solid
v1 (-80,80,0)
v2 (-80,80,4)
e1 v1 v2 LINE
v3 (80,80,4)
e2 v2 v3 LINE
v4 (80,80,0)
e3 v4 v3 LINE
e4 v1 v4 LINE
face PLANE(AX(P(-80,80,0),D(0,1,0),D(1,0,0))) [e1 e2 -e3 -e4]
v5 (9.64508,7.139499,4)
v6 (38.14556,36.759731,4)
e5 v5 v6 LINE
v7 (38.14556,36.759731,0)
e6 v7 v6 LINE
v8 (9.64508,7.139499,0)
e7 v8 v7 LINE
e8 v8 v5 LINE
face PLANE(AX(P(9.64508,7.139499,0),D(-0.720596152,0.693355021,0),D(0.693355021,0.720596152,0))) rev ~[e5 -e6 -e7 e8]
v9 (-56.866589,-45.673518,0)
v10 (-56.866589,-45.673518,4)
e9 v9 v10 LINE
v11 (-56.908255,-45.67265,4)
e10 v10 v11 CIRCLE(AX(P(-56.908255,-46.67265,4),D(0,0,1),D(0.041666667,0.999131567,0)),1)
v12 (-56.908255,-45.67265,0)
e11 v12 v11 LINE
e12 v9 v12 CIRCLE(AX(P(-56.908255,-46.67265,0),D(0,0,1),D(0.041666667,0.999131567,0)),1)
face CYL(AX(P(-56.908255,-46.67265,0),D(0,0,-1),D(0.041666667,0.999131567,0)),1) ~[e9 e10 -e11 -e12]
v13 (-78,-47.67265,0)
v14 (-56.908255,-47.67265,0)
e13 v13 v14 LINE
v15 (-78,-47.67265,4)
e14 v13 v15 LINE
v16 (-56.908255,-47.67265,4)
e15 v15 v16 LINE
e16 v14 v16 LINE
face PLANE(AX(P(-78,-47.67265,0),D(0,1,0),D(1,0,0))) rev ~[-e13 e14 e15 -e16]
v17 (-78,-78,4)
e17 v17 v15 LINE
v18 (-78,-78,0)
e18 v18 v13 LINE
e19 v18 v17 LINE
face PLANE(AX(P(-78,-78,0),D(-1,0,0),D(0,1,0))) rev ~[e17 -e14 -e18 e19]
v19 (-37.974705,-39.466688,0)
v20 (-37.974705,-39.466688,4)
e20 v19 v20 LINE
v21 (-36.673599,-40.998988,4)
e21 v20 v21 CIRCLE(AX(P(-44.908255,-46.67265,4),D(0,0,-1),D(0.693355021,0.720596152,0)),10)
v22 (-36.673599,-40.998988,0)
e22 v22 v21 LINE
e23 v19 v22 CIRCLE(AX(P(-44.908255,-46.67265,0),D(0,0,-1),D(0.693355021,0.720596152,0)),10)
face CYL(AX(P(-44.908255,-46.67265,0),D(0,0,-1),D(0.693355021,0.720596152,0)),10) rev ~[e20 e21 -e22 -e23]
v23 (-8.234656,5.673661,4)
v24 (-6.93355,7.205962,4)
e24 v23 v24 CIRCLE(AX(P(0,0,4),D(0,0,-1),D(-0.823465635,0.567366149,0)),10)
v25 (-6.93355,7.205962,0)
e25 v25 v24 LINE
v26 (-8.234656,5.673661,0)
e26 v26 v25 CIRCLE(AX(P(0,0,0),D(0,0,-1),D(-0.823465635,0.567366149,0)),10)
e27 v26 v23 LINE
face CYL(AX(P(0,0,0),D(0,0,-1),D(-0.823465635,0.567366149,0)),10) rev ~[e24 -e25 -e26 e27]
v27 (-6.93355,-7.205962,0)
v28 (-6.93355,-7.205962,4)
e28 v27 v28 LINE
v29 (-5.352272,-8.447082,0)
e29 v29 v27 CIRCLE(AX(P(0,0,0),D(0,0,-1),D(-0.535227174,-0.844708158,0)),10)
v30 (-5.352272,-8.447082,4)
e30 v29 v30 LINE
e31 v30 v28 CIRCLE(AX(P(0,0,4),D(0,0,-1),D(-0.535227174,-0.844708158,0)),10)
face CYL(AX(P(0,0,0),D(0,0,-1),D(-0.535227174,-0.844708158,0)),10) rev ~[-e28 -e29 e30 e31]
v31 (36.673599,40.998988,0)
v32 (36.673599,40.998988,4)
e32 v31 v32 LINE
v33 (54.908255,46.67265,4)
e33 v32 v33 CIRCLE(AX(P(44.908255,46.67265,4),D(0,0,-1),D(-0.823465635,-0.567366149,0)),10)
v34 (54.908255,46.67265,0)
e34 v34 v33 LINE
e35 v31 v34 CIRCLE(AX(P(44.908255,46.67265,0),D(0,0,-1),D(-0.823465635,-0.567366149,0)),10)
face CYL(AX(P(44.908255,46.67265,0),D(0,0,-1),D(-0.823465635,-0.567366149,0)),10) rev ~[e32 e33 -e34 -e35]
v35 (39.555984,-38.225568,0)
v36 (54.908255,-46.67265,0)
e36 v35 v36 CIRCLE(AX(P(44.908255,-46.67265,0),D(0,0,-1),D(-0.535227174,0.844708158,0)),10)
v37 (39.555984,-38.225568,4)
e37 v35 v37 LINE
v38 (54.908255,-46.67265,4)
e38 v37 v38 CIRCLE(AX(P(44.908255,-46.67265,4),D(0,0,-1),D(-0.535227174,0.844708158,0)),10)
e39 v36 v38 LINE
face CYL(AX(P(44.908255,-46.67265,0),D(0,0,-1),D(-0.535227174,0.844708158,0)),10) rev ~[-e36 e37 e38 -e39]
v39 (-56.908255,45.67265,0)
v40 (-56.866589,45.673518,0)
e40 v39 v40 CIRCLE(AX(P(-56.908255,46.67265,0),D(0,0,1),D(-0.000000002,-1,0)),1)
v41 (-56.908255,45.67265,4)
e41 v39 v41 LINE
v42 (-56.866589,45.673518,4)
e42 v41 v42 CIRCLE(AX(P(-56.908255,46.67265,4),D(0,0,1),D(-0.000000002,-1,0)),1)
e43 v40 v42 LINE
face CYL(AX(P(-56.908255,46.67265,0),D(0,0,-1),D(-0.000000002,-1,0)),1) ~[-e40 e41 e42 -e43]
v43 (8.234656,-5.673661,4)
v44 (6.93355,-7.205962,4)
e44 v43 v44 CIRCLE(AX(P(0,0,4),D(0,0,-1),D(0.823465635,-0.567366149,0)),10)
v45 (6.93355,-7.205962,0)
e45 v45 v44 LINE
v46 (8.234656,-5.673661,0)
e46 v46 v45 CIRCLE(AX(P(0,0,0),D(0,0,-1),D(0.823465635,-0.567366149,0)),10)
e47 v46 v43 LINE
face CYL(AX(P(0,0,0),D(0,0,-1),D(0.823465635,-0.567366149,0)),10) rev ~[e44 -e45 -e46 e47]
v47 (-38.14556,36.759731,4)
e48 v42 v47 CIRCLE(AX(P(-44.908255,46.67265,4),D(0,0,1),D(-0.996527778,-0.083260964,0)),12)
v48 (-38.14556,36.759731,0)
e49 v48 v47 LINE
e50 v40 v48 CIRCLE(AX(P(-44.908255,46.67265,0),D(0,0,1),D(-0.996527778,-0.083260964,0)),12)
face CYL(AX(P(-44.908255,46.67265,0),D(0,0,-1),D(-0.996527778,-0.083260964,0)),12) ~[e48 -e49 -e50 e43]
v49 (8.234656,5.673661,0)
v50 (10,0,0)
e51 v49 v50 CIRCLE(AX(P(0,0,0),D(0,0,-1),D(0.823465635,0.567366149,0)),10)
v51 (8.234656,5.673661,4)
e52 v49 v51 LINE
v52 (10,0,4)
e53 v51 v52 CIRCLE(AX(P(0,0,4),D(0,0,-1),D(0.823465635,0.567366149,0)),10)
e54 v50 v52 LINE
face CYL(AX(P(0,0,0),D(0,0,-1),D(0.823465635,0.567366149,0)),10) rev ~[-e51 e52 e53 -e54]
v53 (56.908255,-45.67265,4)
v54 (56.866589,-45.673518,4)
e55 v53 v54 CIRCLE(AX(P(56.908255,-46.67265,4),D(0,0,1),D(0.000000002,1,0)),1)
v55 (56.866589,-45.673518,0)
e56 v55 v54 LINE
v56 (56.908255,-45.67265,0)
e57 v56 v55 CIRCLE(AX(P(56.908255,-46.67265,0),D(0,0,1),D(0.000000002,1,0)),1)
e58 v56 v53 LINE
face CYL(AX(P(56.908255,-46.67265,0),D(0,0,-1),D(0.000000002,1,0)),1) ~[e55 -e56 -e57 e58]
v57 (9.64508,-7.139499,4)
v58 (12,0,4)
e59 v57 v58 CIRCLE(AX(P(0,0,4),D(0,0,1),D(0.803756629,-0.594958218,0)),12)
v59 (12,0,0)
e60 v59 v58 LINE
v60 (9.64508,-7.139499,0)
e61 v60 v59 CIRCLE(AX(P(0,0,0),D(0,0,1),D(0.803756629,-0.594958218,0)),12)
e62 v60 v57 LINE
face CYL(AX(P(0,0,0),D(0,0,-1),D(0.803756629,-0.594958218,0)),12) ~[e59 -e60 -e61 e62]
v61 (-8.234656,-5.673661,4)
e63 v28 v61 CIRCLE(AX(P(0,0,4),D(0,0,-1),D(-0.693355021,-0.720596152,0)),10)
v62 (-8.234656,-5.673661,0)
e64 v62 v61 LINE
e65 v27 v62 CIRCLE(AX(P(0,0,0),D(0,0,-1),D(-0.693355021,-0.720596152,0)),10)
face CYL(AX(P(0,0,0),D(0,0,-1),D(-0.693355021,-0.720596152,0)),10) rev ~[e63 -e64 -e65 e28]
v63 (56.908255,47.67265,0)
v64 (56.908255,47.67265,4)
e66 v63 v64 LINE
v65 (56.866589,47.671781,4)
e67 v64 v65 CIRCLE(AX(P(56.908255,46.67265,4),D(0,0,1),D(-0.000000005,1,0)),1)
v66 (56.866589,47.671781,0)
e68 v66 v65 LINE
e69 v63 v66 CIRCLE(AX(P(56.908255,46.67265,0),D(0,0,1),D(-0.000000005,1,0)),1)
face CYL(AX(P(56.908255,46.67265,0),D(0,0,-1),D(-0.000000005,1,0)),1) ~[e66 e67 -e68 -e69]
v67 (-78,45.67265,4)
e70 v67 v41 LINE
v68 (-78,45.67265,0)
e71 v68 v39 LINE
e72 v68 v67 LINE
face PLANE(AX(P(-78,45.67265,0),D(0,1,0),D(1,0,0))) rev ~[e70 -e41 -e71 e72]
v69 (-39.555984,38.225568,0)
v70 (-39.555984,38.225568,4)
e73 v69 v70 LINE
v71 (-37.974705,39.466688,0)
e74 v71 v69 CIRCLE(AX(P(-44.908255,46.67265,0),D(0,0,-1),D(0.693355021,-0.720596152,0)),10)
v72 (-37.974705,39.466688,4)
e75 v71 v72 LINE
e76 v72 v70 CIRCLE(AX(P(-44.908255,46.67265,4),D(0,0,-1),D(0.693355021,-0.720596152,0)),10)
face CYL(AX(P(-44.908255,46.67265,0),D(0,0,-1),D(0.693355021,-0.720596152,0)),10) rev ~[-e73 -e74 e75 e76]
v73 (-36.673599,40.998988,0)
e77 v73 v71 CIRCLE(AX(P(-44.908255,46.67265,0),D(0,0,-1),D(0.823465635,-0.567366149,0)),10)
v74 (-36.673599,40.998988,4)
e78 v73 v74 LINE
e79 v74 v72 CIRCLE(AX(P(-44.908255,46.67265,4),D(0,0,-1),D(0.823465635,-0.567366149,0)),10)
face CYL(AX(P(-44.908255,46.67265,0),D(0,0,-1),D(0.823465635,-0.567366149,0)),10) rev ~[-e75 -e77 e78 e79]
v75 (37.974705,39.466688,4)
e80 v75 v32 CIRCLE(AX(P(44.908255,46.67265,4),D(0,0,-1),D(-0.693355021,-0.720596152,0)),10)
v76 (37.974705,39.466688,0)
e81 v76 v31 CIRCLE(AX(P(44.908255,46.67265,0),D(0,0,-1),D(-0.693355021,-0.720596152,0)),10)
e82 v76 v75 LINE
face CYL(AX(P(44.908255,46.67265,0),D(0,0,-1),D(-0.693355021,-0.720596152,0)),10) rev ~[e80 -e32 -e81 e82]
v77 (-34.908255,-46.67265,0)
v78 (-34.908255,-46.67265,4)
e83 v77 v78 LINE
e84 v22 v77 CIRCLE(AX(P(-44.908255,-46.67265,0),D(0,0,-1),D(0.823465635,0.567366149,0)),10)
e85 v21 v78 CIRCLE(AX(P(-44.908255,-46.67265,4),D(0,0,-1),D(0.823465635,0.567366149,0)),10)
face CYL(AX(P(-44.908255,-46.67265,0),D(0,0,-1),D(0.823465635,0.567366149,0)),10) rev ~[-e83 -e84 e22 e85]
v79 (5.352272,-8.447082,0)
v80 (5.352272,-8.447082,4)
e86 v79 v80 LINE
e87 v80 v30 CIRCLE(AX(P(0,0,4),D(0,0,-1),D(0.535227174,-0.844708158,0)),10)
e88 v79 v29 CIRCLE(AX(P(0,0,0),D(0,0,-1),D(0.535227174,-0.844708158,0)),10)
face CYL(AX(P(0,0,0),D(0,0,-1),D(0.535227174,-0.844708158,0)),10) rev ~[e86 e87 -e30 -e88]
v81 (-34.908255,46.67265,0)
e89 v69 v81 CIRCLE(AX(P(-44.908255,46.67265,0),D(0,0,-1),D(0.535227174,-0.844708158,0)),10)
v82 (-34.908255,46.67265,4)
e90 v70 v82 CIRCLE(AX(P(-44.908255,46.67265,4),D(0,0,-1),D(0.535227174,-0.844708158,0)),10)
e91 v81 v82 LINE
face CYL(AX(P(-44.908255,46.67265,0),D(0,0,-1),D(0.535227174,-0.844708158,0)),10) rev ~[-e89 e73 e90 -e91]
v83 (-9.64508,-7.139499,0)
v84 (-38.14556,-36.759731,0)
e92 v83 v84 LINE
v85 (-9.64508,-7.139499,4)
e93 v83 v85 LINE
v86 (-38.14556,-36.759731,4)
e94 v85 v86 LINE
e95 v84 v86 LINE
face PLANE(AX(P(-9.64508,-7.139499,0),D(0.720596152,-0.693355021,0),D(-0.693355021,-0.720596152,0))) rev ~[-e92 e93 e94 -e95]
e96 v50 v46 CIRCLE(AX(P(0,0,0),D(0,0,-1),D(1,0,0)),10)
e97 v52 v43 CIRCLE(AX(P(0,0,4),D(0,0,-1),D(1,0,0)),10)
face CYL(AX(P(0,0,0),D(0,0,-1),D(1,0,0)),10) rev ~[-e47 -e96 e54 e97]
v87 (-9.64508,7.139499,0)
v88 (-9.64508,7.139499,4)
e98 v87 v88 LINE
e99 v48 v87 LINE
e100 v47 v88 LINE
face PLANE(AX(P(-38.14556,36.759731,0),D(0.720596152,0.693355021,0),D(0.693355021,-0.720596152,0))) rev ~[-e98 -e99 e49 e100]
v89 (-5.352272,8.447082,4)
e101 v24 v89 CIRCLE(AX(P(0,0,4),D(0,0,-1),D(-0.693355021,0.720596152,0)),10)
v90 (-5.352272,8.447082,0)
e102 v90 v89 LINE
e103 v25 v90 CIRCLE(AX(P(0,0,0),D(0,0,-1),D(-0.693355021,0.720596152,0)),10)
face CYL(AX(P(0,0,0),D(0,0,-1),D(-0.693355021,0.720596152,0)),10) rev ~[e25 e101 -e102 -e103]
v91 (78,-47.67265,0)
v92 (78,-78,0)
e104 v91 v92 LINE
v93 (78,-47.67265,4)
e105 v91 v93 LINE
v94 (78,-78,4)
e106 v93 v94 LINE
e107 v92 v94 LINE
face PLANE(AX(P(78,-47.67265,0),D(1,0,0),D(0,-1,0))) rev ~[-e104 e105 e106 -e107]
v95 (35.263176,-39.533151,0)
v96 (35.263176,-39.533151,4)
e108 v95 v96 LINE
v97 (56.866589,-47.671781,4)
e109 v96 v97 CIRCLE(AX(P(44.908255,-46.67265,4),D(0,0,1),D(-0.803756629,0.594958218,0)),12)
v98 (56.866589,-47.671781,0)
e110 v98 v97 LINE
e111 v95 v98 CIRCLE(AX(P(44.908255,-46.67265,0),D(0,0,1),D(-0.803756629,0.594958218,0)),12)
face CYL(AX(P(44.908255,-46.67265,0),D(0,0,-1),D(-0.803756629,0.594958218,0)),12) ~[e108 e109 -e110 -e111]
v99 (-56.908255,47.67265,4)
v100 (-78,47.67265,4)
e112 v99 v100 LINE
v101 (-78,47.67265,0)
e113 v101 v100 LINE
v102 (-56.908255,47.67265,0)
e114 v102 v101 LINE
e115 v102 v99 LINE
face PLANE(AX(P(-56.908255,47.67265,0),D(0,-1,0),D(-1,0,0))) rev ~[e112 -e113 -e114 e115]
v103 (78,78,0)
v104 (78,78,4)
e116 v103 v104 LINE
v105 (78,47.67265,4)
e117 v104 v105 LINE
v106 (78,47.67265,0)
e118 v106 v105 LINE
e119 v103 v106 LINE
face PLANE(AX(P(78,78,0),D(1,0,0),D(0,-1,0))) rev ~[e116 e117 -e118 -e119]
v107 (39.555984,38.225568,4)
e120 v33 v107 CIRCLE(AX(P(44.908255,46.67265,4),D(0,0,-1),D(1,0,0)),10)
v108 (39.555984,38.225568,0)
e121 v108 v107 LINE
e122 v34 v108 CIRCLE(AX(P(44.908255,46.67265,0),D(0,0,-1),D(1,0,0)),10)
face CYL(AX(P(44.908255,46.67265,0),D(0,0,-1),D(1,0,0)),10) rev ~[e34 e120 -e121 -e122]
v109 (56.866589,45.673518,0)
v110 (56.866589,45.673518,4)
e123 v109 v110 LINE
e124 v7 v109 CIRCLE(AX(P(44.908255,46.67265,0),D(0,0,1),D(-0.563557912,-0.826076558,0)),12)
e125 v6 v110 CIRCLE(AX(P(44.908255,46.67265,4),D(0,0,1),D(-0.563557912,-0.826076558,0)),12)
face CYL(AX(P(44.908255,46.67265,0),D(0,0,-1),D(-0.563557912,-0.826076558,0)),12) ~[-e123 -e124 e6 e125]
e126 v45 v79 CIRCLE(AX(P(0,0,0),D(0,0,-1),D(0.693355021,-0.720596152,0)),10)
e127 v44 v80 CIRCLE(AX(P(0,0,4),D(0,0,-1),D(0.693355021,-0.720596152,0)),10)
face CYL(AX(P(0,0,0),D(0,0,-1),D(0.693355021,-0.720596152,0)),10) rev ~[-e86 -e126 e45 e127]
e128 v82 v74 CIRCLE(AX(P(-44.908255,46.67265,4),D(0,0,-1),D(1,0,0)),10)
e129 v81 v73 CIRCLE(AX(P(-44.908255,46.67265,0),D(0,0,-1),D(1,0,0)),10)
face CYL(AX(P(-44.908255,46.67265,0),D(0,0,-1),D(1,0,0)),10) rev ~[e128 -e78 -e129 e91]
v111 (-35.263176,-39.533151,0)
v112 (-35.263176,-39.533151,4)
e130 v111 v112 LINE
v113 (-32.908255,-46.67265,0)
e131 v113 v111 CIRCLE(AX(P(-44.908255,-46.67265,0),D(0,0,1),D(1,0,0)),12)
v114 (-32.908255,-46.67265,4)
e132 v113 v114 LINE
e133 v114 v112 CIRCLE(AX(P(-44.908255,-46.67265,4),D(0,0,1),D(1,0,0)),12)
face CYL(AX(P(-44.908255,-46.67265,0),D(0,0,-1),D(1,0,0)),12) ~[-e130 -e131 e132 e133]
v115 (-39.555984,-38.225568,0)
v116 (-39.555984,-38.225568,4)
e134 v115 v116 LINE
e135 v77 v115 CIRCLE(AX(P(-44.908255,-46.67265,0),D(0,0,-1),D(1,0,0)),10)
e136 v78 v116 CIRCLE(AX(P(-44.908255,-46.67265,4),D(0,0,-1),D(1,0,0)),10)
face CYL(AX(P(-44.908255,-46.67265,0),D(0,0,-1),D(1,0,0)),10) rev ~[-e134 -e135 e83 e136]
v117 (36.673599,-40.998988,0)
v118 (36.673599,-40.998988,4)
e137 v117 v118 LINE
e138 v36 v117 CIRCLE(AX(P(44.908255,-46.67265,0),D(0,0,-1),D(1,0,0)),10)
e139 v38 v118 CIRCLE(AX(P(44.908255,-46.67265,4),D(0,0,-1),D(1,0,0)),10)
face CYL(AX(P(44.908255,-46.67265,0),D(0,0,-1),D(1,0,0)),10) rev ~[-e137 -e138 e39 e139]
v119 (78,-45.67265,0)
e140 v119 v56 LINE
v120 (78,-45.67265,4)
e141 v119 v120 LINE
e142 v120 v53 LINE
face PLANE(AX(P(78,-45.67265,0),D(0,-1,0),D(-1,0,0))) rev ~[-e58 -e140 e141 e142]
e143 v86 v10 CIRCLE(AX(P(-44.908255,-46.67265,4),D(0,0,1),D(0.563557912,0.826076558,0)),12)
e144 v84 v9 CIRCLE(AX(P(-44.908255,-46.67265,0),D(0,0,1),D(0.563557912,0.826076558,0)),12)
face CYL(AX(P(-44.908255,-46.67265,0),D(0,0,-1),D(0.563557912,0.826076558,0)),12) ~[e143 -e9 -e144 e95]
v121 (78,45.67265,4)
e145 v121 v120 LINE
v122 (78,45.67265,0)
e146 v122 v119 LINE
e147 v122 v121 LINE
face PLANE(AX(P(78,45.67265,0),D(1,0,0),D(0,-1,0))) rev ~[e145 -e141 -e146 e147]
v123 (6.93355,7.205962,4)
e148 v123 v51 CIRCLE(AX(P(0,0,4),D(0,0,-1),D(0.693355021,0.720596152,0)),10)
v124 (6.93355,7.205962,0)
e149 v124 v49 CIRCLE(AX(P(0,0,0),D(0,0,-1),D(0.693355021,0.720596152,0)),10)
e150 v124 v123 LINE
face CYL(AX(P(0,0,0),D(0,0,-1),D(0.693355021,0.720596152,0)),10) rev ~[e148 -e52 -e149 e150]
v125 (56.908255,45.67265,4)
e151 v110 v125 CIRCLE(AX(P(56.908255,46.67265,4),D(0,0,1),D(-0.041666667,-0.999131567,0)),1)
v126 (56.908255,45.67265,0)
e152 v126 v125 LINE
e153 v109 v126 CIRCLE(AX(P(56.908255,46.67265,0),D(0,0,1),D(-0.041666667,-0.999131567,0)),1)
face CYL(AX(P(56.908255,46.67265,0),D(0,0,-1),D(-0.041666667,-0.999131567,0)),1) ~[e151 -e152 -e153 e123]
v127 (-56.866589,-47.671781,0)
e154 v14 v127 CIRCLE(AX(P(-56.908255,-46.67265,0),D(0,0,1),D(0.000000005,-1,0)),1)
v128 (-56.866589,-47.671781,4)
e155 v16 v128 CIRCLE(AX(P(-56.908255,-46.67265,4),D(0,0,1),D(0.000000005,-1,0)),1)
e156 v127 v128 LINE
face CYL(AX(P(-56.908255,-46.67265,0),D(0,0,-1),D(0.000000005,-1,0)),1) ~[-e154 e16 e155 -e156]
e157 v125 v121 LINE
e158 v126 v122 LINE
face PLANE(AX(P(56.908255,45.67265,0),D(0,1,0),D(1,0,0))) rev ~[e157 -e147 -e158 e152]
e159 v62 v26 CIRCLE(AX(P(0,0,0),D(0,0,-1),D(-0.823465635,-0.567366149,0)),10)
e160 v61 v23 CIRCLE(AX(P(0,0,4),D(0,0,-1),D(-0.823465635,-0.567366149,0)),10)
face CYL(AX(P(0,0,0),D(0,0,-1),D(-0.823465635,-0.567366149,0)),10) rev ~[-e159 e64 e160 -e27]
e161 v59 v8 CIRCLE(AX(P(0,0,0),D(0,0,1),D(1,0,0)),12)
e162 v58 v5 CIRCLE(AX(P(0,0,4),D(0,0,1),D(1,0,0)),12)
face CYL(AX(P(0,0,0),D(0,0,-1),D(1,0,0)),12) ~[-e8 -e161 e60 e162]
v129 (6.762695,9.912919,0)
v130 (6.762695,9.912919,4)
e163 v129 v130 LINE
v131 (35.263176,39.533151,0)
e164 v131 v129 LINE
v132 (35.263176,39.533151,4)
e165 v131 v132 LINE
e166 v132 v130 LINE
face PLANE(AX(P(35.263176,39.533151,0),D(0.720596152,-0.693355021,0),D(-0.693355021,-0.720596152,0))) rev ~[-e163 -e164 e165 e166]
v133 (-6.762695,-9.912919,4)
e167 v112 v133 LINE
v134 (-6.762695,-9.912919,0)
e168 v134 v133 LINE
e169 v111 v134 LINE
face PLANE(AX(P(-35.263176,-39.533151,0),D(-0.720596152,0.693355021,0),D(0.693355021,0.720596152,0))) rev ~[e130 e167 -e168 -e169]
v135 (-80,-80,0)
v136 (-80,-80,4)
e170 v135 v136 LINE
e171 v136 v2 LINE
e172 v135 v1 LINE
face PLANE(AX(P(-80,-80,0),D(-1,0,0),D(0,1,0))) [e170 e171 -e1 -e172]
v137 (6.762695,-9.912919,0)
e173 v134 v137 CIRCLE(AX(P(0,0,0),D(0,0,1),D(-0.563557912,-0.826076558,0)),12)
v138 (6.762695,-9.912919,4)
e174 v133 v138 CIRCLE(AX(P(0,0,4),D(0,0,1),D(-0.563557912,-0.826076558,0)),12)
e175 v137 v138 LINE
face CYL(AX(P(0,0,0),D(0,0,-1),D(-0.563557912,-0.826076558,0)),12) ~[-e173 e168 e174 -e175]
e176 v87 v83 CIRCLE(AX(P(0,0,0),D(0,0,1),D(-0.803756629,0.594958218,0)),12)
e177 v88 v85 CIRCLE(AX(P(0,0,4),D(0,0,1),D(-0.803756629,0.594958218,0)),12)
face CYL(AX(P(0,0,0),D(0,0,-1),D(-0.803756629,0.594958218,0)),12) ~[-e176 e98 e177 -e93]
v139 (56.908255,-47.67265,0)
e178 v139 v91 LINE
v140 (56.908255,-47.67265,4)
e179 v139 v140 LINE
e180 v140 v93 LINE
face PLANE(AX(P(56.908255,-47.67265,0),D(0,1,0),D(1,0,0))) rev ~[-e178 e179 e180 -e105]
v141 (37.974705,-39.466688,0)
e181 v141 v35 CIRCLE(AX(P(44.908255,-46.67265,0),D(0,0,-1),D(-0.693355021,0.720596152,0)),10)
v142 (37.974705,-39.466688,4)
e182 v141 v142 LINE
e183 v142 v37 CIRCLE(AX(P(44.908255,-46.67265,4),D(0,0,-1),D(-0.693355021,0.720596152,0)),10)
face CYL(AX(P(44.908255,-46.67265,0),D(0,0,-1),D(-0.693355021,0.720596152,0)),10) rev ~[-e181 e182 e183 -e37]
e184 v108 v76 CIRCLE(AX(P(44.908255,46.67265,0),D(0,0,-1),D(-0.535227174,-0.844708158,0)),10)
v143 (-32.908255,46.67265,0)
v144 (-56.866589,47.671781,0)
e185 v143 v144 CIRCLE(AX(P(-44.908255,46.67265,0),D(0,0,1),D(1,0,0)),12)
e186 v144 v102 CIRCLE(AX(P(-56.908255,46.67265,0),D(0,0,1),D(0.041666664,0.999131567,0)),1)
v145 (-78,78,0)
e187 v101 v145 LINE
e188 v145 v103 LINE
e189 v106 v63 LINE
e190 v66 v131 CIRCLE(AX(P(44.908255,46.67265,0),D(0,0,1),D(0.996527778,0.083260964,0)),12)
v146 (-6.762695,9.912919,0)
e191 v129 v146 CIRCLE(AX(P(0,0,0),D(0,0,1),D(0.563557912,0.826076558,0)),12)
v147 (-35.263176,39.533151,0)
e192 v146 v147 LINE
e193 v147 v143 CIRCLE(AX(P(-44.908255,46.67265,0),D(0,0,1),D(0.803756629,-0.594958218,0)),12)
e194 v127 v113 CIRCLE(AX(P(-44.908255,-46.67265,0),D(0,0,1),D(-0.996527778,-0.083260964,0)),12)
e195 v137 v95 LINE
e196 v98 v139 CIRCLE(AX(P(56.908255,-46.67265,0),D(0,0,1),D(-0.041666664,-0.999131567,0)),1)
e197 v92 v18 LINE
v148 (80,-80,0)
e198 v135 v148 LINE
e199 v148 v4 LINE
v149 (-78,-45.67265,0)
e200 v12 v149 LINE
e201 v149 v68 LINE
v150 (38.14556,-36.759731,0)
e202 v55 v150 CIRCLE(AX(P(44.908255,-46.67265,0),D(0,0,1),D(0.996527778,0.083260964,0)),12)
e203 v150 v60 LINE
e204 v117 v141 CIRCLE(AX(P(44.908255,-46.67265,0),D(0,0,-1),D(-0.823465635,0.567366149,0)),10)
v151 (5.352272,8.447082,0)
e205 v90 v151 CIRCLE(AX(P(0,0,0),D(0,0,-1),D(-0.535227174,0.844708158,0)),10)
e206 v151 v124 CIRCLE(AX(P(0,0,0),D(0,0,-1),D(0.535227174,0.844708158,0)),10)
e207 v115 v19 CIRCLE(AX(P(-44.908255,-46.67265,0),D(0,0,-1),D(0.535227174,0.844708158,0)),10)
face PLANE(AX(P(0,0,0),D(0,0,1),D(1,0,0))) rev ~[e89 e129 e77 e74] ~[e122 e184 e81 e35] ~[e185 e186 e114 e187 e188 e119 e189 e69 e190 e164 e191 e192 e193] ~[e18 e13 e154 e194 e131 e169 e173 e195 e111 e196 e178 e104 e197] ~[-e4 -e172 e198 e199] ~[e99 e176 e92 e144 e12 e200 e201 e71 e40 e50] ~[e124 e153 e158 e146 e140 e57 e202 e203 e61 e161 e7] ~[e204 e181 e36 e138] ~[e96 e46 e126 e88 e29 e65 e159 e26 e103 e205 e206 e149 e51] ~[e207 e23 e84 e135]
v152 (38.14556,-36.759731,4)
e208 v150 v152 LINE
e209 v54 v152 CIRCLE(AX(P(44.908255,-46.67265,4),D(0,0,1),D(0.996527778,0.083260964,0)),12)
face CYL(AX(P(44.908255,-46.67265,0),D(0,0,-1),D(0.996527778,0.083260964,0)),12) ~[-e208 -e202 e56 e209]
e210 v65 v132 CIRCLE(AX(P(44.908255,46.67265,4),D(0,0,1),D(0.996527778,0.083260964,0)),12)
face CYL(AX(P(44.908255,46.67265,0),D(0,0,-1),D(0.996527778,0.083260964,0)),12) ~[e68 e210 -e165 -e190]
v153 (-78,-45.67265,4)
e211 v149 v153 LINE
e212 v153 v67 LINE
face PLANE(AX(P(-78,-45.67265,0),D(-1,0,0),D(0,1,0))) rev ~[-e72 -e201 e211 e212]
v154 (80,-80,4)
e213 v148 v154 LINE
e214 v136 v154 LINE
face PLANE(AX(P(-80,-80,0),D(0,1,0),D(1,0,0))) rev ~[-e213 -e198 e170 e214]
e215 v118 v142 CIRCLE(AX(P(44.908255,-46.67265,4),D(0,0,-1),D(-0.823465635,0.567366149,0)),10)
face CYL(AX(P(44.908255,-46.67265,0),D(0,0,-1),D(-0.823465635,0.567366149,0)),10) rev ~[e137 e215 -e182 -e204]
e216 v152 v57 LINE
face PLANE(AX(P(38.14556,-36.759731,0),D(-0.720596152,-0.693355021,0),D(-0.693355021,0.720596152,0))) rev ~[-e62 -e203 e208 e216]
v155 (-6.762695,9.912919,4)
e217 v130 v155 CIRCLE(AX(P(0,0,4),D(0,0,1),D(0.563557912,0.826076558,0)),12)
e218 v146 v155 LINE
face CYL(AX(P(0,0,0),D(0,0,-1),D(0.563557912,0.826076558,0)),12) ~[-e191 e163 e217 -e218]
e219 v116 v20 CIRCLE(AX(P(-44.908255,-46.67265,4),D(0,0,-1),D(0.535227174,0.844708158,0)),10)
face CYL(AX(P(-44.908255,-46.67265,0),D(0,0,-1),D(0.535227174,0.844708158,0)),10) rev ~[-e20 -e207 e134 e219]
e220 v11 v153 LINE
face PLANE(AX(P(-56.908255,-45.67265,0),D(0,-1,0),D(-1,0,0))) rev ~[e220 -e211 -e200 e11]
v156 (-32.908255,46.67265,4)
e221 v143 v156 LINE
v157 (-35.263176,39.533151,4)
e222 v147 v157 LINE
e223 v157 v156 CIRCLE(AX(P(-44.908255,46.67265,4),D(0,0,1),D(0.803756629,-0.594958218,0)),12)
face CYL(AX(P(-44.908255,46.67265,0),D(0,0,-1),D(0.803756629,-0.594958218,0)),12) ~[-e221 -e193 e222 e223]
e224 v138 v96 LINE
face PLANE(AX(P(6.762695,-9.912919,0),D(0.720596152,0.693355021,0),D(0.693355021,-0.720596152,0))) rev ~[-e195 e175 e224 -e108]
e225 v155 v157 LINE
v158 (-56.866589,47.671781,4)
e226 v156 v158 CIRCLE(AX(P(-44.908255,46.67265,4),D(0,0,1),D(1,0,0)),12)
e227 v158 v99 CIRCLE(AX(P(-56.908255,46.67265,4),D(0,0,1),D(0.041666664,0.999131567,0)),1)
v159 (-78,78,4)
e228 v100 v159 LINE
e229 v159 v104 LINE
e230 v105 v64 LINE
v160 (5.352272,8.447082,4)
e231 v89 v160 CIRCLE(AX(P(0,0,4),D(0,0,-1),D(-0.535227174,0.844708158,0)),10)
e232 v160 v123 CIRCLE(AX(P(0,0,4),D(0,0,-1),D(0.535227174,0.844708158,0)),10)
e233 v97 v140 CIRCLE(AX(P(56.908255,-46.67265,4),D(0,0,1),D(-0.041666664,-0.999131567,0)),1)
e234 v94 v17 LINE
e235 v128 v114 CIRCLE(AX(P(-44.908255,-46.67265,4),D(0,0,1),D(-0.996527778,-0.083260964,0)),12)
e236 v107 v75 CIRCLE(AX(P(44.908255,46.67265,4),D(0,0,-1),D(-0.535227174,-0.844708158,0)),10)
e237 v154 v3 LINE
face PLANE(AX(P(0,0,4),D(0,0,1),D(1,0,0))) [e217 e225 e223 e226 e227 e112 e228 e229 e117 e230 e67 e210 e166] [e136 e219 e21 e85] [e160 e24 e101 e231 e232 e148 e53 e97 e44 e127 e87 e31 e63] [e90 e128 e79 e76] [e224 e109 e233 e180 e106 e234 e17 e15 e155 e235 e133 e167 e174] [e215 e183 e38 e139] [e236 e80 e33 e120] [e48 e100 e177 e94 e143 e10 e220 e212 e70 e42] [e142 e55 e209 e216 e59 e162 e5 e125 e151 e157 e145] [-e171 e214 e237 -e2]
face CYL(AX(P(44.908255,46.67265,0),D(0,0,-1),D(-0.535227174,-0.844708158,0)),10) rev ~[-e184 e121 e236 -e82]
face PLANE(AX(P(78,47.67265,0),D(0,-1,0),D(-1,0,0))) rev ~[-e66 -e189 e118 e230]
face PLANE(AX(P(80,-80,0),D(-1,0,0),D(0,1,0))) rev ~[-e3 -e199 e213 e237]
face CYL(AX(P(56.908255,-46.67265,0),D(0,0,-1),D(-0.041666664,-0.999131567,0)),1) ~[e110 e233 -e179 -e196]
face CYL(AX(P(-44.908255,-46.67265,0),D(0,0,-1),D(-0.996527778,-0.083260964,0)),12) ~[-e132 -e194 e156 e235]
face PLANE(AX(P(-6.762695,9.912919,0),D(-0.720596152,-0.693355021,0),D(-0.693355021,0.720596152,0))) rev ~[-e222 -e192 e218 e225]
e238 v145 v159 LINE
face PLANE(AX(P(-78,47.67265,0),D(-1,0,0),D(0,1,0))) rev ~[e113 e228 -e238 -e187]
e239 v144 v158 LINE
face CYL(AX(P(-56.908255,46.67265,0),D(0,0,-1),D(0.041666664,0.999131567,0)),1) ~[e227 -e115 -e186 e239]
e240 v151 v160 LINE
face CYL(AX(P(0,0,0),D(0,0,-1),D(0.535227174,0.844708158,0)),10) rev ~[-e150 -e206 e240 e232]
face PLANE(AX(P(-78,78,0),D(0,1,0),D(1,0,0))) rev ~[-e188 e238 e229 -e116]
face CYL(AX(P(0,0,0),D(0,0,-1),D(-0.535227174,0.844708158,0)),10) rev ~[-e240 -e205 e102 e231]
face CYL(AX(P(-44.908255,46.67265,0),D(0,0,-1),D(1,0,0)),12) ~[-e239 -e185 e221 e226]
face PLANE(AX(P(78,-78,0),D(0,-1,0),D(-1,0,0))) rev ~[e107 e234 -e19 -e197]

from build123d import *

# Parameters (mm, degrees)
F0_W     = 160
F0_H     = 160
F1_DEPTH = 4


with BuildPart() as f1:
    # F0 (on Top) → F1 (new body)
    with BuildSketch(Plane.XY):
        Rectangle(F0_W, F0_H)
        Polygon((78, -47.6726496816), (78, -78), (-78, -78), (-78, -47.6726496816), (-78, -45.6726496816), (-78, 45.6726496816), (-78, 47.6726496816), (-78, 78), (78, 78), (78, 47.6726496816), (78, 45.6726496816), (78, -45.6726496816), align=None, mode=Mode.SUBTRACT)
        with BuildLine():
            Line((-36.673598985, -40.9989881886), (-35.2631757885, -39.5331510668))
            ThreePointArc((-35.2631757885, -39.5331510668), (-35.8940102443, -38.7515774449), (-36.5879950856, -38.0254958538))
            Line((-36.5879950856, -38.0254958538), (-37.9747051278, -39.4666881584))
            ThreePointArc((-37.9747051278, -39.4666881584), (-37.2855518522, -40.2000619797), (-36.673598985, -40.9989881886))
        make_face()
        with BuildLine():
            ThreePointArc((-36.5879950856, -38.0254958538), (-37.3402685176, -37.3599929459), (-38.1455603978, -36.7597309824))
            Line((-38.1455603978, -36.7597309824), (-39.5559835942, -38.2255681043))
            ThreePointArc((-39.5559835942, -38.2255681043), (-38.7340792781, -38.8062941103), (-37.9747051278, -39.4666881584))
            Line((-37.9747051278, -39.4666881584), (-36.5879950856, -38.0254958538))
        make_face()
        with BuildLine():
            ThreePointArc((-56.866588672, -45.6735181142), (-56.9082553387, -46.6726496816), (-56.866588672, -47.6717812489))
            ThreePointArc((-56.866588672, -47.6717812489), (-44.4082553387, -58.6622284898), (-32.9082553387, -46.6726496816))
            ThreePointArc((-32.9082553387, -46.6726496816), (-33.5121824492, -42.9137239442), (-35.2631757885, -39.5331510668))
            Line((-35.2631757885, -39.5331510668), (-36.673598985, -40.9989881886))
            ThreePointArc((-36.673598985, -40.9989881886), (-35.3597852116, -43.7016703428), (-34.9082553387, -46.6726496816))
            ThreePointArc((-34.9082553387, -46.6726496816), (-53.6696113252, -51.4932970736), (-39.5559835942, -38.2255681043))
            Line((-39.5559835942, -38.2255681043), (-38.1455603978, -36.7597309824))
            ThreePointArc((-38.1455603978, -36.7597309824), (-50.0669920866, -35.83810146), (-56.866588672, -45.6735181142))
        make_face()
        with BuildLine():
            Line((8.2346563537, 5.673661493), (9.6450795502, 7.1394986148))
            ThreePointArc((9.6450795502, 7.1394986148), (9.0142450944, 7.9210722367), (8.3202602531, 8.6471538278))
            Line((8.3202602531, 8.6471538278), (6.9335502109, 7.2059615232))
            ThreePointArc((6.9335502109, 7.2059615232), (7.6227034864, 6.4725877018), (8.2346563537, 5.673661493))
        make_face()
        with BuildLine():
            ThreePointArc((8.3202602531, 8.6471538278), (7.567986821, 9.3126567357), (6.7626949409, 9.9129186992))
            Line((6.7626949409, 9.9129186992), (5.3522717444, 8.4470815773))
            ThreePointArc((5.3522717444, 8.4470815773), (6.1741760605, 7.8663555713), (6.9335502109, 7.2059615232))
            Line((6.9335502109, 7.2059615232), (8.3202602531, 8.6471538278))
        make_face()
        with BuildLine():
            Line((5.3522717444, 8.4470815773), (6.7626949409, 9.9129186992))
            ThreePointArc((6.7626949409, 9.9129186992), (0, 12), (-6.7626949409, 9.9129186992))
            Line((-6.7626949409, 9.9129186992), (-5.3522717444, 8.4470815773))
            ThreePointArc((-5.3522717444, 8.4470815773), (0, 10), (5.3522717444, 8.4470815773))
        make_face()
        with BuildLine():
            ThreePointArc((-6.7626949409, 9.9129186992), (-7.567986821, 9.3126567357), (-8.3202602531, 8.6471538278))
            Line((-8.3202602531, 8.6471538278), (-6.9335502109, 7.2059615232))
            ThreePointArc((-6.9335502109, 7.2059615232), (-6.1741760605, 7.8663555713), (-5.3522717444, 8.4470815773))
            Line((-5.3522717444, 8.4470815773), (-6.7626949409, 9.9129186992))
        make_face()
        with BuildLine():
            ThreePointArc((-8.3202602531, 8.6471538278), (-9.0142450944, 7.9210722367), (-9.6450795502, 7.1394986148))
            Line((-9.6450795502, 7.1394986148), (-8.2346563537, 5.673661493))
            ThreePointArc((-8.2346563537, 5.673661493), (-7.6227034864, 6.4725877018), (-6.9335502109, 7.2059615232))
            Line((-6.9335502109, 7.2059615232), (-8.3202602531, 8.6471538278))
        make_face()
        with BuildLine():
            ThreePointArc((-9.6450795502, 7.1394986148), (-12, 0), (-9.6450795502, -7.1394986148))
            Line((-9.6450795502, -7.1394986148), (-8.2346563537, -5.673661493))
            ThreePointArc((-8.2346563537, -5.673661493), (-10, 0), (-8.2346563537, 5.673661493))
            Line((-8.2346563537, 5.673661493), (-9.6450795502, 7.1394986148))
        make_face()
        with BuildLine():
            Line((-8.2346563537, -5.673661493), (-9.6450795502, -7.1394986148))
            ThreePointArc((-9.6450795502, -7.1394986148), (-9.0142450944, -7.9210722367), (-8.3202602531, -8.6471538278))
            Line((-8.3202602531, -8.6471538278), (-6.9335502109, -7.2059615232))
            ThreePointArc((-6.9335502109, -7.2059615232), (-7.6227034864, -6.4725877018), (-8.2346563537, -5.673661493))
        make_face()
        with BuildLine():
            ThreePointArc((-8.3202602531, -8.6471538278), (-7.567986821, -9.3126567357), (-6.7626949409, -9.9129186992))
            Line((-6.7626949409, -9.9129186992), (-5.3522717444, -8.4470815773))
            ThreePointArc((-5.3522717444, -8.4470815773), (-6.1741760605, -7.8663555713), (-6.9335502109, -7.2059615232))
            Line((-6.9335502109, -7.2059615232), (-8.3202602531, -8.6471538278))
        make_face()
        with BuildLine():
            ThreePointArc((-6.7626949409, -9.9129186992), (0, -12), (6.7626949409, -9.9129186992))
            Line((6.7626949409, -9.9129186992), (5.3522717444, -8.4470815773))
            ThreePointArc((5.3522717444, -8.4470815773), (0, -10), (-5.3522717444, -8.4470815773))
            Line((-5.3522717444, -8.4470815773), (-6.7626949409, -9.9129186992))
        make_face()
        with BuildLine():
            Line((5.3522717444, -8.4470815773), (6.7626949409, -9.9129186992))
            ThreePointArc((6.7626949409, -9.9129186992), (7.567986821, -9.3126567357), (8.3202602531, -8.6471538278))
            Line((8.3202602531, -8.6471538278), (6.9335502109, -7.2059615232))
            ThreePointArc((6.9335502109, -7.2059615232), (6.1741760605, -7.8663555713), (5.3522717444, -8.4470815773))
        make_face()
        with BuildLine():
            ThreePointArc((8.3202602531, -8.6471538278), (9.0142450944, -7.9210722367), (9.6450795502, -7.1394986148))
            Line((9.6450795502, -7.1394986148), (8.2346563537, -5.673661493))
            ThreePointArc((8.2346563537, -5.673661493), (7.6227034864, -6.4725877018), (6.9335502109, -7.2059615232))
            Line((6.9335502109, -7.2059615232), (8.3202602531, -8.6471538278))
        make_face()
        with BuildLine():
            Line((8.2346563537, -5.673661493), (9.6450795502, -7.1394986148))
            ThreePointArc((9.6450795502, -7.1394986148), (11.3960728894, -3.7589257374), (12, 0))
            ThreePointArc((12, 0), (11.3960728894, 3.7589257374), (9.6450795502, 7.1394986148))
            Line((9.6450795502, 7.1394986148), (8.2346563537, 5.673661493))
            ThreePointArc((8.2346563537, 5.673661493), (9.5484701271, 2.9709793388), (10, 0))
            ThreePointArc((10, 0), (9.5484701271, -2.9709793388), (8.2346563537, -5.673661493))
        make_face()
        with BuildLine():
            Line((39.5559835942, -38.2255681043), (38.1455603978, -36.7597309824))
            ThreePointArc((38.1455603978, -36.7597309824), (37.3402685176, -37.3599929459), (36.5879950856, -38.0254958538))
            Line((36.5879950856, -38.0254958538), (37.9747051278, -39.4666881584))
            ThreePointArc((37.9747051278, -39.4666881584), (38.7340792781, -38.8062941103), (39.5559835942, -38.2255681043))
        make_face()
        with BuildLine():
            ThreePointArc((36.5879950856, -38.0254958538), (35.8940102443, -38.7515774449), (35.2631757885, -39.5331510668))
            Line((35.2631757885, -39.5331510668), (36.673598985, -40.9989881886))
            ThreePointArc((36.673598985, -40.9989881886), (37.2855518522, -40.2000619797), (37.9747051278, -39.4666881584))
            Line((37.9747051278, -39.4666881584), (36.5879950856, -38.0254958538))
        make_face()
        with BuildLine():
            ThreePointArc((35.2631757885, -39.5331510668), (40.6777576047, -57.9022039436), (56.866588672, -47.6717812489))
            ThreePointArc((56.866588672, -47.6717812489), (56.897834147, -47.1726496816), (56.9082553387, -46.6726496816))
            ThreePointArc((56.9082553387, -46.6726496816), (56.897834147, -46.1726496816), (56.866588672, -45.6735181142))
            ThreePointArc((56.866588672, -45.6735181142), (50.0669920866, -35.83810146), (38.1455603978, -36.7597309824))
            Line((38.1455603978, -36.7597309824), (39.5559835942, -38.2255681043))
            ThreePointArc((39.5559835942, -38.2255681043), (49.7289027307, -37.9112936951), (54.9082553387, -46.6726496816))
            ThreePointArc((54.9082553387, -46.6726496816), (41.9372759999, -56.2211198087), (36.673598985, -40.9989881886))
            Line((36.673598985, -40.9989881886), (35.2631757885, -39.5331510668))
        make_face()
        with BuildLine():
            Line((36.673598985, 40.9989881886), (35.2631757885, 39.5331510668))
            ThreePointArc((35.2631757885, 39.5331510668), (35.8940102443, 38.7515774449), (36.5879950856, 38.0254958538))
            Line((36.5879950856, 38.0254958538), (37.9747051278, 39.4666881584))
            ThreePointArc((37.9747051278, 39.4666881584), (37.2855518522, 40.2000619797), (36.673598985, 40.9989881886))
        make_face()
        with BuildLine():
            ThreePointArc((36.5879950856, 38.0254958538), (37.3402685176, 37.3599929459), (38.1455603978, 36.7597309824))
            Line((38.1455603978, 36.7597309824), (39.5559835942, 38.2255681043))
            ThreePointArc((39.5559835942, 38.2255681043), (38.7340792781, 38.8062941103), (37.9747051278, 39.4666881584))
            Line((37.9747051278, 39.4666881584), (36.5879950856, 38.0254958538))
        make_face()
        with BuildLine():
            ThreePointArc((38.1455603978, 36.7597309824), (50.0669920866, 35.83810146), (56.866588672, 45.6735181142))
            ThreePointArc((56.866588672, 45.6735181142), (56.897834147, 46.1726496816), (56.9082553387, 46.6726496816))
            ThreePointArc((56.9082553387, 46.6726496816), (56.897834147, 47.1726496816), (56.866588672, 47.6717812489))
            ThreePointArc((56.866588672, 47.6717812489), (40.6777576047, 57.9022039436), (35.2631757885, 39.5331510668))
            Line((35.2631757885, 39.5331510668), (36.673598985, 40.9989881886))
            ThreePointArc((36.673598985, 40.9989881886), (41.9372759999, 56.2211198087), (54.9082553387, 46.6726496816))
            ThreePointArc((54.9082553387, 46.6726496816), (49.7289027307, 37.9112936951), (39.5559835942, 38.2255681043))
            Line((39.5559835942, 38.2255681043), (38.1455603978, 36.7597309824))
        make_face()
        with BuildLine():
            Line((-39.5559835942, 38.2255681043), (-38.1455603978, 36.7597309824))
            ThreePointArc((-38.1455603978, 36.7597309824), (-37.3402685176, 37.3599929459), (-36.5879950856, 38.0254958538))
            Line((-36.5879950856, 38.0254958538), (-37.9747051278, 39.4666881584))
            ThreePointArc((-37.9747051278, 39.4666881584), (-38.7340792781, 38.8062941103), (-39.5559835942, 38.2255681043))
        make_face()
        with BuildLine():
            Line((-37.9747051278, 39.4666881584), (-36.5879950856, 38.0254958538))
            ThreePointArc((-36.5879950856, 38.0254958538), (-35.8940102443, 38.7515774449), (-35.2631757885, 39.5331510668))
            Line((-35.2631757885, 39.5331510668), (-36.673598985, 40.9989881886))
            ThreePointArc((-36.673598985, 40.9989881886), (-37.2855518522, 40.2000619797), (-37.9747051278, 39.4666881584))
        make_face()
        with BuildLine():
            ThreePointArc((-56.866588672, 47.6717812489), (-56.9082553387, 46.6726496816), (-56.866588672, 45.6735181142))
            ThreePointArc((-56.866588672, 45.6735181142), (-50.0669920866, 35.83810146), (-38.1455603978, 36.7597309824))
            Line((-38.1455603978, 36.7597309824), (-39.5559835942, 38.2255681043))
            ThreePointArc((-39.5559835942, 38.2255681043), (-53.6696113252, 51.4932970736), (-34.9082553387, 46.6726496816))
            ThreePointArc((-34.9082553387, 46.6726496816), (-35.3597852116, 43.7016703428), (-36.673598985, 40.9989881886))
            Line((-36.673598985, 40.9989881886), (-35.2631757885, 39.5331510668))
            ThreePointArc((-35.2631757885, 39.5331510668), (-33.5121824492, 42.9137239442), (-32.9082553387, 46.6726496816))
            ThreePointArc((-32.9082553387, 46.6726496816), (-44.4082553387, 58.6622284898), (-56.866588672, 47.6717812489))
        make_face()
        with BuildLine():
            ThreePointArc((-36.5879950856, 38.0254958538), (-37.3402685176, 37.3599929459), (-38.1455603978, 36.7597309824))
            Line((-38.1455603978, 36.7597309824), (-9.6450795502, 7.1394986148))
            ThreePointArc((-9.6450795502, 7.1394986148), (-9.0142450944, 7.9210722367), (-8.3202602531, 8.6471538278))
            Line((-8.3202602531, 8.6471538278), (-36.5879950856, 38.0254958538))
        make_face()
        with BuildLine():
            ThreePointArc((-35.2631757885, 39.5331510668), (-35.8940102443, 38.7515774449), (-36.5879950856, 38.0254958538))
            Line((-36.5879950856, 38.0254958538), (-8.3202602531, 8.6471538278))
            ThreePointArc((-8.3202602531, 8.6471538278), (-7.567986821, 9.3126567357), (-6.7626949409, 9.9129186992))
            Line((-6.7626949409, 9.9129186992), (-35.2631757885, 39.5331510668))
        make_face()
        with BuildLine():
            Line((-9.6450795502, -7.1394986148), (-38.1455603978, -36.7597309824))
            ThreePointArc((-38.1455603978, -36.7597309824), (-37.3402685176, -37.3599929459), (-36.5879950856, -38.0254958538))
            Line((-36.5879950856, -38.0254958538), (-8.3202602531, -8.6471538278))
            ThreePointArc((-8.3202602531, -8.6471538278), (-9.0142450944, -7.9210722367), (-9.6450795502, -7.1394986148))
        make_face()
        with BuildLine():
            ThreePointArc((-36.5879950856, -38.0254958538), (-35.8940102443, -38.7515774449), (-35.2631757885, -39.5331510668))
            Line((-35.2631757885, -39.5331510668), (-6.7626949409, -9.9129186992))
            ThreePointArc((-6.7626949409, -9.9129186992), (-7.567986821, -9.3126567357), (-8.3202602531, -8.6471538278))
            Line((-8.3202602531, -8.6471538278), (-36.5879950856, -38.0254958538))
        make_face()
        with BuildLine():
            Line((6.7626949409, -9.9129186992), (35.2631757885, -39.5331510668))
            ThreePointArc((35.2631757885, -39.5331510668), (35.8940102443, -38.7515774449), (36.5879950856, -38.0254958538))
            Line((36.5879950856, -38.0254958538), (8.3202602531, -8.6471538278))
            ThreePointArc((8.3202602531, -8.6471538278), (7.567986821, -9.3126567357), (6.7626949409, -9.9129186992))
        make_face()
        with BuildLine():
            ThreePointArc((36.5879950856, -38.0254958538), (37.3402685176, -37.3599929459), (38.1455603978, -36.7597309824))
            Line((38.1455603978, -36.7597309824), (9.6450795502, -7.1394986148))
            ThreePointArc((9.6450795502, -7.1394986148), (9.0142450944, -7.9210722367), (8.3202602531, -8.6471538278))
            Line((8.3202602531, -8.6471538278), (36.5879950856, -38.0254958538))
        make_face()
        with BuildLine():
            Line((9.6450795502, 7.1394986148), (38.1455603978, 36.7597309824))
            ThreePointArc((38.1455603978, 36.7597309824), (37.3402685176, 37.3599929459), (36.5879950856, 38.0254958538))
            Line((36.5879950856, 38.0254958538), (8.3202602531, 8.6471538278))
            ThreePointArc((8.3202602531, 8.6471538278), (9.0142450944, 7.9210722367), (9.6450795502, 7.1394986148))
        make_face()
        with BuildLine():
            ThreePointArc((36.5879950856, 38.0254958538), (35.8940102443, 38.7515774449), (35.2631757885, 39.5331510668))
            Line((35.2631757885, 39.5331510668), (6.7626949409, 9.9129186992))
            ThreePointArc((6.7626949409, 9.9129186992), (7.567986821, 9.3126567357), (8.3202602531, 8.6471538278))
            Line((8.3202602531, 8.6471538278), (36.5879950856, 38.0254958538))
        make_face()
        with BuildLine():
            Line((-78, 47.6726496816), (-78, 45.6726496816))
            Line((-78, 45.6726496816), (-56.9082553387, 45.6726496816))
            ThreePointArc((-56.9082553387, 45.6726496816), (-56.8874174808, 45.6728668133), (-56.866588672, 45.6735181142))
            ThreePointArc((-56.866588672, 45.6735181142), (-56.9082553387, 46.6726496816), (-56.866588672, 47.6717812489))
            ThreePointArc((-56.866588672, 47.6717812489), (-56.8874174808, 47.6724325498), (-56.9082553387, 47.6726496816))
            Line((-56.9082553387, 47.6726496816), (-78, 47.6726496816))
        make_face()
        with BuildLine():
            Line((56.9082553387, 45.6726496816), (78, 45.6726496816))
            Line((78, 45.6726496816), (78, 47.6726496816))
            Line((78, 47.6726496816), (56.9082553387, 47.6726496816))
            ThreePointArc((56.9082553387, 47.6726496816), (56.8874174808, 47.6724325498), (56.866588672, 47.6717812489))
            ThreePointArc((56.866588672, 47.6717812489), (56.897834147, 47.1726496816), (56.9082553387, 46.6726496816))
            ThreePointArc((56.9082553387, 46.6726496816), (56.897834147, 46.1726496816), (56.866588672, 45.6735181142))
            ThreePointArc((56.866588672, 45.6735181142), (56.8874174808, 45.6728668133), (56.9082553387, 45.6726496816))
        make_face()
        with BuildLine():
            Line((56.9082553387, -47.6726496816), (78, -47.6726496816))
            Line((78, -47.6726496816), (78, -45.6726496816))
            Line((78, -45.6726496816), (56.9082553387, -45.6726496816))
            ThreePointArc((56.9082553387, -45.6726496816), (56.8874174808, -45.6728668133), (56.866588672, -45.6735181142))
            ThreePointArc((56.866588672, -45.6735181142), (56.897834147, -46.1726496816), (56.9082553387, -46.6726496816))
            ThreePointArc((56.9082553387, -46.6726496816), (56.897834147, -47.1726496816), (56.866588672, -47.6717812489))
            ThreePointArc((56.866588672, -47.6717812489), (56.8874174808, -47.6724325498), (56.9082553387, -47.6726496816))
        make_face()
        with BuildLine():
            Line((-78, -45.6726496816), (-78, -47.6726496816))
            Line((-78, -47.6726496816), (-56.9082553387, -47.6726496816))
            ThreePointArc((-56.9082553387, -47.6726496816), (-56.8874174808, -47.6724325498), (-56.866588672, -47.6717812489))
            ThreePointArc((-56.866588672, -47.6717812489), (-56.9082553387, -46.6726496816), (-56.866588672, -45.6735181142))
            ThreePointArc((-56.866588672, -45.6735181142), (-56.8874174808, -45.6728668133), (-56.9082553387, -45.6726496816))
            Line((-56.9082553387, -45.6726496816), (-78, -45.6726496816))
        make_face()
    extrude(amount=F1_DEPTH)


solid = f1.part
